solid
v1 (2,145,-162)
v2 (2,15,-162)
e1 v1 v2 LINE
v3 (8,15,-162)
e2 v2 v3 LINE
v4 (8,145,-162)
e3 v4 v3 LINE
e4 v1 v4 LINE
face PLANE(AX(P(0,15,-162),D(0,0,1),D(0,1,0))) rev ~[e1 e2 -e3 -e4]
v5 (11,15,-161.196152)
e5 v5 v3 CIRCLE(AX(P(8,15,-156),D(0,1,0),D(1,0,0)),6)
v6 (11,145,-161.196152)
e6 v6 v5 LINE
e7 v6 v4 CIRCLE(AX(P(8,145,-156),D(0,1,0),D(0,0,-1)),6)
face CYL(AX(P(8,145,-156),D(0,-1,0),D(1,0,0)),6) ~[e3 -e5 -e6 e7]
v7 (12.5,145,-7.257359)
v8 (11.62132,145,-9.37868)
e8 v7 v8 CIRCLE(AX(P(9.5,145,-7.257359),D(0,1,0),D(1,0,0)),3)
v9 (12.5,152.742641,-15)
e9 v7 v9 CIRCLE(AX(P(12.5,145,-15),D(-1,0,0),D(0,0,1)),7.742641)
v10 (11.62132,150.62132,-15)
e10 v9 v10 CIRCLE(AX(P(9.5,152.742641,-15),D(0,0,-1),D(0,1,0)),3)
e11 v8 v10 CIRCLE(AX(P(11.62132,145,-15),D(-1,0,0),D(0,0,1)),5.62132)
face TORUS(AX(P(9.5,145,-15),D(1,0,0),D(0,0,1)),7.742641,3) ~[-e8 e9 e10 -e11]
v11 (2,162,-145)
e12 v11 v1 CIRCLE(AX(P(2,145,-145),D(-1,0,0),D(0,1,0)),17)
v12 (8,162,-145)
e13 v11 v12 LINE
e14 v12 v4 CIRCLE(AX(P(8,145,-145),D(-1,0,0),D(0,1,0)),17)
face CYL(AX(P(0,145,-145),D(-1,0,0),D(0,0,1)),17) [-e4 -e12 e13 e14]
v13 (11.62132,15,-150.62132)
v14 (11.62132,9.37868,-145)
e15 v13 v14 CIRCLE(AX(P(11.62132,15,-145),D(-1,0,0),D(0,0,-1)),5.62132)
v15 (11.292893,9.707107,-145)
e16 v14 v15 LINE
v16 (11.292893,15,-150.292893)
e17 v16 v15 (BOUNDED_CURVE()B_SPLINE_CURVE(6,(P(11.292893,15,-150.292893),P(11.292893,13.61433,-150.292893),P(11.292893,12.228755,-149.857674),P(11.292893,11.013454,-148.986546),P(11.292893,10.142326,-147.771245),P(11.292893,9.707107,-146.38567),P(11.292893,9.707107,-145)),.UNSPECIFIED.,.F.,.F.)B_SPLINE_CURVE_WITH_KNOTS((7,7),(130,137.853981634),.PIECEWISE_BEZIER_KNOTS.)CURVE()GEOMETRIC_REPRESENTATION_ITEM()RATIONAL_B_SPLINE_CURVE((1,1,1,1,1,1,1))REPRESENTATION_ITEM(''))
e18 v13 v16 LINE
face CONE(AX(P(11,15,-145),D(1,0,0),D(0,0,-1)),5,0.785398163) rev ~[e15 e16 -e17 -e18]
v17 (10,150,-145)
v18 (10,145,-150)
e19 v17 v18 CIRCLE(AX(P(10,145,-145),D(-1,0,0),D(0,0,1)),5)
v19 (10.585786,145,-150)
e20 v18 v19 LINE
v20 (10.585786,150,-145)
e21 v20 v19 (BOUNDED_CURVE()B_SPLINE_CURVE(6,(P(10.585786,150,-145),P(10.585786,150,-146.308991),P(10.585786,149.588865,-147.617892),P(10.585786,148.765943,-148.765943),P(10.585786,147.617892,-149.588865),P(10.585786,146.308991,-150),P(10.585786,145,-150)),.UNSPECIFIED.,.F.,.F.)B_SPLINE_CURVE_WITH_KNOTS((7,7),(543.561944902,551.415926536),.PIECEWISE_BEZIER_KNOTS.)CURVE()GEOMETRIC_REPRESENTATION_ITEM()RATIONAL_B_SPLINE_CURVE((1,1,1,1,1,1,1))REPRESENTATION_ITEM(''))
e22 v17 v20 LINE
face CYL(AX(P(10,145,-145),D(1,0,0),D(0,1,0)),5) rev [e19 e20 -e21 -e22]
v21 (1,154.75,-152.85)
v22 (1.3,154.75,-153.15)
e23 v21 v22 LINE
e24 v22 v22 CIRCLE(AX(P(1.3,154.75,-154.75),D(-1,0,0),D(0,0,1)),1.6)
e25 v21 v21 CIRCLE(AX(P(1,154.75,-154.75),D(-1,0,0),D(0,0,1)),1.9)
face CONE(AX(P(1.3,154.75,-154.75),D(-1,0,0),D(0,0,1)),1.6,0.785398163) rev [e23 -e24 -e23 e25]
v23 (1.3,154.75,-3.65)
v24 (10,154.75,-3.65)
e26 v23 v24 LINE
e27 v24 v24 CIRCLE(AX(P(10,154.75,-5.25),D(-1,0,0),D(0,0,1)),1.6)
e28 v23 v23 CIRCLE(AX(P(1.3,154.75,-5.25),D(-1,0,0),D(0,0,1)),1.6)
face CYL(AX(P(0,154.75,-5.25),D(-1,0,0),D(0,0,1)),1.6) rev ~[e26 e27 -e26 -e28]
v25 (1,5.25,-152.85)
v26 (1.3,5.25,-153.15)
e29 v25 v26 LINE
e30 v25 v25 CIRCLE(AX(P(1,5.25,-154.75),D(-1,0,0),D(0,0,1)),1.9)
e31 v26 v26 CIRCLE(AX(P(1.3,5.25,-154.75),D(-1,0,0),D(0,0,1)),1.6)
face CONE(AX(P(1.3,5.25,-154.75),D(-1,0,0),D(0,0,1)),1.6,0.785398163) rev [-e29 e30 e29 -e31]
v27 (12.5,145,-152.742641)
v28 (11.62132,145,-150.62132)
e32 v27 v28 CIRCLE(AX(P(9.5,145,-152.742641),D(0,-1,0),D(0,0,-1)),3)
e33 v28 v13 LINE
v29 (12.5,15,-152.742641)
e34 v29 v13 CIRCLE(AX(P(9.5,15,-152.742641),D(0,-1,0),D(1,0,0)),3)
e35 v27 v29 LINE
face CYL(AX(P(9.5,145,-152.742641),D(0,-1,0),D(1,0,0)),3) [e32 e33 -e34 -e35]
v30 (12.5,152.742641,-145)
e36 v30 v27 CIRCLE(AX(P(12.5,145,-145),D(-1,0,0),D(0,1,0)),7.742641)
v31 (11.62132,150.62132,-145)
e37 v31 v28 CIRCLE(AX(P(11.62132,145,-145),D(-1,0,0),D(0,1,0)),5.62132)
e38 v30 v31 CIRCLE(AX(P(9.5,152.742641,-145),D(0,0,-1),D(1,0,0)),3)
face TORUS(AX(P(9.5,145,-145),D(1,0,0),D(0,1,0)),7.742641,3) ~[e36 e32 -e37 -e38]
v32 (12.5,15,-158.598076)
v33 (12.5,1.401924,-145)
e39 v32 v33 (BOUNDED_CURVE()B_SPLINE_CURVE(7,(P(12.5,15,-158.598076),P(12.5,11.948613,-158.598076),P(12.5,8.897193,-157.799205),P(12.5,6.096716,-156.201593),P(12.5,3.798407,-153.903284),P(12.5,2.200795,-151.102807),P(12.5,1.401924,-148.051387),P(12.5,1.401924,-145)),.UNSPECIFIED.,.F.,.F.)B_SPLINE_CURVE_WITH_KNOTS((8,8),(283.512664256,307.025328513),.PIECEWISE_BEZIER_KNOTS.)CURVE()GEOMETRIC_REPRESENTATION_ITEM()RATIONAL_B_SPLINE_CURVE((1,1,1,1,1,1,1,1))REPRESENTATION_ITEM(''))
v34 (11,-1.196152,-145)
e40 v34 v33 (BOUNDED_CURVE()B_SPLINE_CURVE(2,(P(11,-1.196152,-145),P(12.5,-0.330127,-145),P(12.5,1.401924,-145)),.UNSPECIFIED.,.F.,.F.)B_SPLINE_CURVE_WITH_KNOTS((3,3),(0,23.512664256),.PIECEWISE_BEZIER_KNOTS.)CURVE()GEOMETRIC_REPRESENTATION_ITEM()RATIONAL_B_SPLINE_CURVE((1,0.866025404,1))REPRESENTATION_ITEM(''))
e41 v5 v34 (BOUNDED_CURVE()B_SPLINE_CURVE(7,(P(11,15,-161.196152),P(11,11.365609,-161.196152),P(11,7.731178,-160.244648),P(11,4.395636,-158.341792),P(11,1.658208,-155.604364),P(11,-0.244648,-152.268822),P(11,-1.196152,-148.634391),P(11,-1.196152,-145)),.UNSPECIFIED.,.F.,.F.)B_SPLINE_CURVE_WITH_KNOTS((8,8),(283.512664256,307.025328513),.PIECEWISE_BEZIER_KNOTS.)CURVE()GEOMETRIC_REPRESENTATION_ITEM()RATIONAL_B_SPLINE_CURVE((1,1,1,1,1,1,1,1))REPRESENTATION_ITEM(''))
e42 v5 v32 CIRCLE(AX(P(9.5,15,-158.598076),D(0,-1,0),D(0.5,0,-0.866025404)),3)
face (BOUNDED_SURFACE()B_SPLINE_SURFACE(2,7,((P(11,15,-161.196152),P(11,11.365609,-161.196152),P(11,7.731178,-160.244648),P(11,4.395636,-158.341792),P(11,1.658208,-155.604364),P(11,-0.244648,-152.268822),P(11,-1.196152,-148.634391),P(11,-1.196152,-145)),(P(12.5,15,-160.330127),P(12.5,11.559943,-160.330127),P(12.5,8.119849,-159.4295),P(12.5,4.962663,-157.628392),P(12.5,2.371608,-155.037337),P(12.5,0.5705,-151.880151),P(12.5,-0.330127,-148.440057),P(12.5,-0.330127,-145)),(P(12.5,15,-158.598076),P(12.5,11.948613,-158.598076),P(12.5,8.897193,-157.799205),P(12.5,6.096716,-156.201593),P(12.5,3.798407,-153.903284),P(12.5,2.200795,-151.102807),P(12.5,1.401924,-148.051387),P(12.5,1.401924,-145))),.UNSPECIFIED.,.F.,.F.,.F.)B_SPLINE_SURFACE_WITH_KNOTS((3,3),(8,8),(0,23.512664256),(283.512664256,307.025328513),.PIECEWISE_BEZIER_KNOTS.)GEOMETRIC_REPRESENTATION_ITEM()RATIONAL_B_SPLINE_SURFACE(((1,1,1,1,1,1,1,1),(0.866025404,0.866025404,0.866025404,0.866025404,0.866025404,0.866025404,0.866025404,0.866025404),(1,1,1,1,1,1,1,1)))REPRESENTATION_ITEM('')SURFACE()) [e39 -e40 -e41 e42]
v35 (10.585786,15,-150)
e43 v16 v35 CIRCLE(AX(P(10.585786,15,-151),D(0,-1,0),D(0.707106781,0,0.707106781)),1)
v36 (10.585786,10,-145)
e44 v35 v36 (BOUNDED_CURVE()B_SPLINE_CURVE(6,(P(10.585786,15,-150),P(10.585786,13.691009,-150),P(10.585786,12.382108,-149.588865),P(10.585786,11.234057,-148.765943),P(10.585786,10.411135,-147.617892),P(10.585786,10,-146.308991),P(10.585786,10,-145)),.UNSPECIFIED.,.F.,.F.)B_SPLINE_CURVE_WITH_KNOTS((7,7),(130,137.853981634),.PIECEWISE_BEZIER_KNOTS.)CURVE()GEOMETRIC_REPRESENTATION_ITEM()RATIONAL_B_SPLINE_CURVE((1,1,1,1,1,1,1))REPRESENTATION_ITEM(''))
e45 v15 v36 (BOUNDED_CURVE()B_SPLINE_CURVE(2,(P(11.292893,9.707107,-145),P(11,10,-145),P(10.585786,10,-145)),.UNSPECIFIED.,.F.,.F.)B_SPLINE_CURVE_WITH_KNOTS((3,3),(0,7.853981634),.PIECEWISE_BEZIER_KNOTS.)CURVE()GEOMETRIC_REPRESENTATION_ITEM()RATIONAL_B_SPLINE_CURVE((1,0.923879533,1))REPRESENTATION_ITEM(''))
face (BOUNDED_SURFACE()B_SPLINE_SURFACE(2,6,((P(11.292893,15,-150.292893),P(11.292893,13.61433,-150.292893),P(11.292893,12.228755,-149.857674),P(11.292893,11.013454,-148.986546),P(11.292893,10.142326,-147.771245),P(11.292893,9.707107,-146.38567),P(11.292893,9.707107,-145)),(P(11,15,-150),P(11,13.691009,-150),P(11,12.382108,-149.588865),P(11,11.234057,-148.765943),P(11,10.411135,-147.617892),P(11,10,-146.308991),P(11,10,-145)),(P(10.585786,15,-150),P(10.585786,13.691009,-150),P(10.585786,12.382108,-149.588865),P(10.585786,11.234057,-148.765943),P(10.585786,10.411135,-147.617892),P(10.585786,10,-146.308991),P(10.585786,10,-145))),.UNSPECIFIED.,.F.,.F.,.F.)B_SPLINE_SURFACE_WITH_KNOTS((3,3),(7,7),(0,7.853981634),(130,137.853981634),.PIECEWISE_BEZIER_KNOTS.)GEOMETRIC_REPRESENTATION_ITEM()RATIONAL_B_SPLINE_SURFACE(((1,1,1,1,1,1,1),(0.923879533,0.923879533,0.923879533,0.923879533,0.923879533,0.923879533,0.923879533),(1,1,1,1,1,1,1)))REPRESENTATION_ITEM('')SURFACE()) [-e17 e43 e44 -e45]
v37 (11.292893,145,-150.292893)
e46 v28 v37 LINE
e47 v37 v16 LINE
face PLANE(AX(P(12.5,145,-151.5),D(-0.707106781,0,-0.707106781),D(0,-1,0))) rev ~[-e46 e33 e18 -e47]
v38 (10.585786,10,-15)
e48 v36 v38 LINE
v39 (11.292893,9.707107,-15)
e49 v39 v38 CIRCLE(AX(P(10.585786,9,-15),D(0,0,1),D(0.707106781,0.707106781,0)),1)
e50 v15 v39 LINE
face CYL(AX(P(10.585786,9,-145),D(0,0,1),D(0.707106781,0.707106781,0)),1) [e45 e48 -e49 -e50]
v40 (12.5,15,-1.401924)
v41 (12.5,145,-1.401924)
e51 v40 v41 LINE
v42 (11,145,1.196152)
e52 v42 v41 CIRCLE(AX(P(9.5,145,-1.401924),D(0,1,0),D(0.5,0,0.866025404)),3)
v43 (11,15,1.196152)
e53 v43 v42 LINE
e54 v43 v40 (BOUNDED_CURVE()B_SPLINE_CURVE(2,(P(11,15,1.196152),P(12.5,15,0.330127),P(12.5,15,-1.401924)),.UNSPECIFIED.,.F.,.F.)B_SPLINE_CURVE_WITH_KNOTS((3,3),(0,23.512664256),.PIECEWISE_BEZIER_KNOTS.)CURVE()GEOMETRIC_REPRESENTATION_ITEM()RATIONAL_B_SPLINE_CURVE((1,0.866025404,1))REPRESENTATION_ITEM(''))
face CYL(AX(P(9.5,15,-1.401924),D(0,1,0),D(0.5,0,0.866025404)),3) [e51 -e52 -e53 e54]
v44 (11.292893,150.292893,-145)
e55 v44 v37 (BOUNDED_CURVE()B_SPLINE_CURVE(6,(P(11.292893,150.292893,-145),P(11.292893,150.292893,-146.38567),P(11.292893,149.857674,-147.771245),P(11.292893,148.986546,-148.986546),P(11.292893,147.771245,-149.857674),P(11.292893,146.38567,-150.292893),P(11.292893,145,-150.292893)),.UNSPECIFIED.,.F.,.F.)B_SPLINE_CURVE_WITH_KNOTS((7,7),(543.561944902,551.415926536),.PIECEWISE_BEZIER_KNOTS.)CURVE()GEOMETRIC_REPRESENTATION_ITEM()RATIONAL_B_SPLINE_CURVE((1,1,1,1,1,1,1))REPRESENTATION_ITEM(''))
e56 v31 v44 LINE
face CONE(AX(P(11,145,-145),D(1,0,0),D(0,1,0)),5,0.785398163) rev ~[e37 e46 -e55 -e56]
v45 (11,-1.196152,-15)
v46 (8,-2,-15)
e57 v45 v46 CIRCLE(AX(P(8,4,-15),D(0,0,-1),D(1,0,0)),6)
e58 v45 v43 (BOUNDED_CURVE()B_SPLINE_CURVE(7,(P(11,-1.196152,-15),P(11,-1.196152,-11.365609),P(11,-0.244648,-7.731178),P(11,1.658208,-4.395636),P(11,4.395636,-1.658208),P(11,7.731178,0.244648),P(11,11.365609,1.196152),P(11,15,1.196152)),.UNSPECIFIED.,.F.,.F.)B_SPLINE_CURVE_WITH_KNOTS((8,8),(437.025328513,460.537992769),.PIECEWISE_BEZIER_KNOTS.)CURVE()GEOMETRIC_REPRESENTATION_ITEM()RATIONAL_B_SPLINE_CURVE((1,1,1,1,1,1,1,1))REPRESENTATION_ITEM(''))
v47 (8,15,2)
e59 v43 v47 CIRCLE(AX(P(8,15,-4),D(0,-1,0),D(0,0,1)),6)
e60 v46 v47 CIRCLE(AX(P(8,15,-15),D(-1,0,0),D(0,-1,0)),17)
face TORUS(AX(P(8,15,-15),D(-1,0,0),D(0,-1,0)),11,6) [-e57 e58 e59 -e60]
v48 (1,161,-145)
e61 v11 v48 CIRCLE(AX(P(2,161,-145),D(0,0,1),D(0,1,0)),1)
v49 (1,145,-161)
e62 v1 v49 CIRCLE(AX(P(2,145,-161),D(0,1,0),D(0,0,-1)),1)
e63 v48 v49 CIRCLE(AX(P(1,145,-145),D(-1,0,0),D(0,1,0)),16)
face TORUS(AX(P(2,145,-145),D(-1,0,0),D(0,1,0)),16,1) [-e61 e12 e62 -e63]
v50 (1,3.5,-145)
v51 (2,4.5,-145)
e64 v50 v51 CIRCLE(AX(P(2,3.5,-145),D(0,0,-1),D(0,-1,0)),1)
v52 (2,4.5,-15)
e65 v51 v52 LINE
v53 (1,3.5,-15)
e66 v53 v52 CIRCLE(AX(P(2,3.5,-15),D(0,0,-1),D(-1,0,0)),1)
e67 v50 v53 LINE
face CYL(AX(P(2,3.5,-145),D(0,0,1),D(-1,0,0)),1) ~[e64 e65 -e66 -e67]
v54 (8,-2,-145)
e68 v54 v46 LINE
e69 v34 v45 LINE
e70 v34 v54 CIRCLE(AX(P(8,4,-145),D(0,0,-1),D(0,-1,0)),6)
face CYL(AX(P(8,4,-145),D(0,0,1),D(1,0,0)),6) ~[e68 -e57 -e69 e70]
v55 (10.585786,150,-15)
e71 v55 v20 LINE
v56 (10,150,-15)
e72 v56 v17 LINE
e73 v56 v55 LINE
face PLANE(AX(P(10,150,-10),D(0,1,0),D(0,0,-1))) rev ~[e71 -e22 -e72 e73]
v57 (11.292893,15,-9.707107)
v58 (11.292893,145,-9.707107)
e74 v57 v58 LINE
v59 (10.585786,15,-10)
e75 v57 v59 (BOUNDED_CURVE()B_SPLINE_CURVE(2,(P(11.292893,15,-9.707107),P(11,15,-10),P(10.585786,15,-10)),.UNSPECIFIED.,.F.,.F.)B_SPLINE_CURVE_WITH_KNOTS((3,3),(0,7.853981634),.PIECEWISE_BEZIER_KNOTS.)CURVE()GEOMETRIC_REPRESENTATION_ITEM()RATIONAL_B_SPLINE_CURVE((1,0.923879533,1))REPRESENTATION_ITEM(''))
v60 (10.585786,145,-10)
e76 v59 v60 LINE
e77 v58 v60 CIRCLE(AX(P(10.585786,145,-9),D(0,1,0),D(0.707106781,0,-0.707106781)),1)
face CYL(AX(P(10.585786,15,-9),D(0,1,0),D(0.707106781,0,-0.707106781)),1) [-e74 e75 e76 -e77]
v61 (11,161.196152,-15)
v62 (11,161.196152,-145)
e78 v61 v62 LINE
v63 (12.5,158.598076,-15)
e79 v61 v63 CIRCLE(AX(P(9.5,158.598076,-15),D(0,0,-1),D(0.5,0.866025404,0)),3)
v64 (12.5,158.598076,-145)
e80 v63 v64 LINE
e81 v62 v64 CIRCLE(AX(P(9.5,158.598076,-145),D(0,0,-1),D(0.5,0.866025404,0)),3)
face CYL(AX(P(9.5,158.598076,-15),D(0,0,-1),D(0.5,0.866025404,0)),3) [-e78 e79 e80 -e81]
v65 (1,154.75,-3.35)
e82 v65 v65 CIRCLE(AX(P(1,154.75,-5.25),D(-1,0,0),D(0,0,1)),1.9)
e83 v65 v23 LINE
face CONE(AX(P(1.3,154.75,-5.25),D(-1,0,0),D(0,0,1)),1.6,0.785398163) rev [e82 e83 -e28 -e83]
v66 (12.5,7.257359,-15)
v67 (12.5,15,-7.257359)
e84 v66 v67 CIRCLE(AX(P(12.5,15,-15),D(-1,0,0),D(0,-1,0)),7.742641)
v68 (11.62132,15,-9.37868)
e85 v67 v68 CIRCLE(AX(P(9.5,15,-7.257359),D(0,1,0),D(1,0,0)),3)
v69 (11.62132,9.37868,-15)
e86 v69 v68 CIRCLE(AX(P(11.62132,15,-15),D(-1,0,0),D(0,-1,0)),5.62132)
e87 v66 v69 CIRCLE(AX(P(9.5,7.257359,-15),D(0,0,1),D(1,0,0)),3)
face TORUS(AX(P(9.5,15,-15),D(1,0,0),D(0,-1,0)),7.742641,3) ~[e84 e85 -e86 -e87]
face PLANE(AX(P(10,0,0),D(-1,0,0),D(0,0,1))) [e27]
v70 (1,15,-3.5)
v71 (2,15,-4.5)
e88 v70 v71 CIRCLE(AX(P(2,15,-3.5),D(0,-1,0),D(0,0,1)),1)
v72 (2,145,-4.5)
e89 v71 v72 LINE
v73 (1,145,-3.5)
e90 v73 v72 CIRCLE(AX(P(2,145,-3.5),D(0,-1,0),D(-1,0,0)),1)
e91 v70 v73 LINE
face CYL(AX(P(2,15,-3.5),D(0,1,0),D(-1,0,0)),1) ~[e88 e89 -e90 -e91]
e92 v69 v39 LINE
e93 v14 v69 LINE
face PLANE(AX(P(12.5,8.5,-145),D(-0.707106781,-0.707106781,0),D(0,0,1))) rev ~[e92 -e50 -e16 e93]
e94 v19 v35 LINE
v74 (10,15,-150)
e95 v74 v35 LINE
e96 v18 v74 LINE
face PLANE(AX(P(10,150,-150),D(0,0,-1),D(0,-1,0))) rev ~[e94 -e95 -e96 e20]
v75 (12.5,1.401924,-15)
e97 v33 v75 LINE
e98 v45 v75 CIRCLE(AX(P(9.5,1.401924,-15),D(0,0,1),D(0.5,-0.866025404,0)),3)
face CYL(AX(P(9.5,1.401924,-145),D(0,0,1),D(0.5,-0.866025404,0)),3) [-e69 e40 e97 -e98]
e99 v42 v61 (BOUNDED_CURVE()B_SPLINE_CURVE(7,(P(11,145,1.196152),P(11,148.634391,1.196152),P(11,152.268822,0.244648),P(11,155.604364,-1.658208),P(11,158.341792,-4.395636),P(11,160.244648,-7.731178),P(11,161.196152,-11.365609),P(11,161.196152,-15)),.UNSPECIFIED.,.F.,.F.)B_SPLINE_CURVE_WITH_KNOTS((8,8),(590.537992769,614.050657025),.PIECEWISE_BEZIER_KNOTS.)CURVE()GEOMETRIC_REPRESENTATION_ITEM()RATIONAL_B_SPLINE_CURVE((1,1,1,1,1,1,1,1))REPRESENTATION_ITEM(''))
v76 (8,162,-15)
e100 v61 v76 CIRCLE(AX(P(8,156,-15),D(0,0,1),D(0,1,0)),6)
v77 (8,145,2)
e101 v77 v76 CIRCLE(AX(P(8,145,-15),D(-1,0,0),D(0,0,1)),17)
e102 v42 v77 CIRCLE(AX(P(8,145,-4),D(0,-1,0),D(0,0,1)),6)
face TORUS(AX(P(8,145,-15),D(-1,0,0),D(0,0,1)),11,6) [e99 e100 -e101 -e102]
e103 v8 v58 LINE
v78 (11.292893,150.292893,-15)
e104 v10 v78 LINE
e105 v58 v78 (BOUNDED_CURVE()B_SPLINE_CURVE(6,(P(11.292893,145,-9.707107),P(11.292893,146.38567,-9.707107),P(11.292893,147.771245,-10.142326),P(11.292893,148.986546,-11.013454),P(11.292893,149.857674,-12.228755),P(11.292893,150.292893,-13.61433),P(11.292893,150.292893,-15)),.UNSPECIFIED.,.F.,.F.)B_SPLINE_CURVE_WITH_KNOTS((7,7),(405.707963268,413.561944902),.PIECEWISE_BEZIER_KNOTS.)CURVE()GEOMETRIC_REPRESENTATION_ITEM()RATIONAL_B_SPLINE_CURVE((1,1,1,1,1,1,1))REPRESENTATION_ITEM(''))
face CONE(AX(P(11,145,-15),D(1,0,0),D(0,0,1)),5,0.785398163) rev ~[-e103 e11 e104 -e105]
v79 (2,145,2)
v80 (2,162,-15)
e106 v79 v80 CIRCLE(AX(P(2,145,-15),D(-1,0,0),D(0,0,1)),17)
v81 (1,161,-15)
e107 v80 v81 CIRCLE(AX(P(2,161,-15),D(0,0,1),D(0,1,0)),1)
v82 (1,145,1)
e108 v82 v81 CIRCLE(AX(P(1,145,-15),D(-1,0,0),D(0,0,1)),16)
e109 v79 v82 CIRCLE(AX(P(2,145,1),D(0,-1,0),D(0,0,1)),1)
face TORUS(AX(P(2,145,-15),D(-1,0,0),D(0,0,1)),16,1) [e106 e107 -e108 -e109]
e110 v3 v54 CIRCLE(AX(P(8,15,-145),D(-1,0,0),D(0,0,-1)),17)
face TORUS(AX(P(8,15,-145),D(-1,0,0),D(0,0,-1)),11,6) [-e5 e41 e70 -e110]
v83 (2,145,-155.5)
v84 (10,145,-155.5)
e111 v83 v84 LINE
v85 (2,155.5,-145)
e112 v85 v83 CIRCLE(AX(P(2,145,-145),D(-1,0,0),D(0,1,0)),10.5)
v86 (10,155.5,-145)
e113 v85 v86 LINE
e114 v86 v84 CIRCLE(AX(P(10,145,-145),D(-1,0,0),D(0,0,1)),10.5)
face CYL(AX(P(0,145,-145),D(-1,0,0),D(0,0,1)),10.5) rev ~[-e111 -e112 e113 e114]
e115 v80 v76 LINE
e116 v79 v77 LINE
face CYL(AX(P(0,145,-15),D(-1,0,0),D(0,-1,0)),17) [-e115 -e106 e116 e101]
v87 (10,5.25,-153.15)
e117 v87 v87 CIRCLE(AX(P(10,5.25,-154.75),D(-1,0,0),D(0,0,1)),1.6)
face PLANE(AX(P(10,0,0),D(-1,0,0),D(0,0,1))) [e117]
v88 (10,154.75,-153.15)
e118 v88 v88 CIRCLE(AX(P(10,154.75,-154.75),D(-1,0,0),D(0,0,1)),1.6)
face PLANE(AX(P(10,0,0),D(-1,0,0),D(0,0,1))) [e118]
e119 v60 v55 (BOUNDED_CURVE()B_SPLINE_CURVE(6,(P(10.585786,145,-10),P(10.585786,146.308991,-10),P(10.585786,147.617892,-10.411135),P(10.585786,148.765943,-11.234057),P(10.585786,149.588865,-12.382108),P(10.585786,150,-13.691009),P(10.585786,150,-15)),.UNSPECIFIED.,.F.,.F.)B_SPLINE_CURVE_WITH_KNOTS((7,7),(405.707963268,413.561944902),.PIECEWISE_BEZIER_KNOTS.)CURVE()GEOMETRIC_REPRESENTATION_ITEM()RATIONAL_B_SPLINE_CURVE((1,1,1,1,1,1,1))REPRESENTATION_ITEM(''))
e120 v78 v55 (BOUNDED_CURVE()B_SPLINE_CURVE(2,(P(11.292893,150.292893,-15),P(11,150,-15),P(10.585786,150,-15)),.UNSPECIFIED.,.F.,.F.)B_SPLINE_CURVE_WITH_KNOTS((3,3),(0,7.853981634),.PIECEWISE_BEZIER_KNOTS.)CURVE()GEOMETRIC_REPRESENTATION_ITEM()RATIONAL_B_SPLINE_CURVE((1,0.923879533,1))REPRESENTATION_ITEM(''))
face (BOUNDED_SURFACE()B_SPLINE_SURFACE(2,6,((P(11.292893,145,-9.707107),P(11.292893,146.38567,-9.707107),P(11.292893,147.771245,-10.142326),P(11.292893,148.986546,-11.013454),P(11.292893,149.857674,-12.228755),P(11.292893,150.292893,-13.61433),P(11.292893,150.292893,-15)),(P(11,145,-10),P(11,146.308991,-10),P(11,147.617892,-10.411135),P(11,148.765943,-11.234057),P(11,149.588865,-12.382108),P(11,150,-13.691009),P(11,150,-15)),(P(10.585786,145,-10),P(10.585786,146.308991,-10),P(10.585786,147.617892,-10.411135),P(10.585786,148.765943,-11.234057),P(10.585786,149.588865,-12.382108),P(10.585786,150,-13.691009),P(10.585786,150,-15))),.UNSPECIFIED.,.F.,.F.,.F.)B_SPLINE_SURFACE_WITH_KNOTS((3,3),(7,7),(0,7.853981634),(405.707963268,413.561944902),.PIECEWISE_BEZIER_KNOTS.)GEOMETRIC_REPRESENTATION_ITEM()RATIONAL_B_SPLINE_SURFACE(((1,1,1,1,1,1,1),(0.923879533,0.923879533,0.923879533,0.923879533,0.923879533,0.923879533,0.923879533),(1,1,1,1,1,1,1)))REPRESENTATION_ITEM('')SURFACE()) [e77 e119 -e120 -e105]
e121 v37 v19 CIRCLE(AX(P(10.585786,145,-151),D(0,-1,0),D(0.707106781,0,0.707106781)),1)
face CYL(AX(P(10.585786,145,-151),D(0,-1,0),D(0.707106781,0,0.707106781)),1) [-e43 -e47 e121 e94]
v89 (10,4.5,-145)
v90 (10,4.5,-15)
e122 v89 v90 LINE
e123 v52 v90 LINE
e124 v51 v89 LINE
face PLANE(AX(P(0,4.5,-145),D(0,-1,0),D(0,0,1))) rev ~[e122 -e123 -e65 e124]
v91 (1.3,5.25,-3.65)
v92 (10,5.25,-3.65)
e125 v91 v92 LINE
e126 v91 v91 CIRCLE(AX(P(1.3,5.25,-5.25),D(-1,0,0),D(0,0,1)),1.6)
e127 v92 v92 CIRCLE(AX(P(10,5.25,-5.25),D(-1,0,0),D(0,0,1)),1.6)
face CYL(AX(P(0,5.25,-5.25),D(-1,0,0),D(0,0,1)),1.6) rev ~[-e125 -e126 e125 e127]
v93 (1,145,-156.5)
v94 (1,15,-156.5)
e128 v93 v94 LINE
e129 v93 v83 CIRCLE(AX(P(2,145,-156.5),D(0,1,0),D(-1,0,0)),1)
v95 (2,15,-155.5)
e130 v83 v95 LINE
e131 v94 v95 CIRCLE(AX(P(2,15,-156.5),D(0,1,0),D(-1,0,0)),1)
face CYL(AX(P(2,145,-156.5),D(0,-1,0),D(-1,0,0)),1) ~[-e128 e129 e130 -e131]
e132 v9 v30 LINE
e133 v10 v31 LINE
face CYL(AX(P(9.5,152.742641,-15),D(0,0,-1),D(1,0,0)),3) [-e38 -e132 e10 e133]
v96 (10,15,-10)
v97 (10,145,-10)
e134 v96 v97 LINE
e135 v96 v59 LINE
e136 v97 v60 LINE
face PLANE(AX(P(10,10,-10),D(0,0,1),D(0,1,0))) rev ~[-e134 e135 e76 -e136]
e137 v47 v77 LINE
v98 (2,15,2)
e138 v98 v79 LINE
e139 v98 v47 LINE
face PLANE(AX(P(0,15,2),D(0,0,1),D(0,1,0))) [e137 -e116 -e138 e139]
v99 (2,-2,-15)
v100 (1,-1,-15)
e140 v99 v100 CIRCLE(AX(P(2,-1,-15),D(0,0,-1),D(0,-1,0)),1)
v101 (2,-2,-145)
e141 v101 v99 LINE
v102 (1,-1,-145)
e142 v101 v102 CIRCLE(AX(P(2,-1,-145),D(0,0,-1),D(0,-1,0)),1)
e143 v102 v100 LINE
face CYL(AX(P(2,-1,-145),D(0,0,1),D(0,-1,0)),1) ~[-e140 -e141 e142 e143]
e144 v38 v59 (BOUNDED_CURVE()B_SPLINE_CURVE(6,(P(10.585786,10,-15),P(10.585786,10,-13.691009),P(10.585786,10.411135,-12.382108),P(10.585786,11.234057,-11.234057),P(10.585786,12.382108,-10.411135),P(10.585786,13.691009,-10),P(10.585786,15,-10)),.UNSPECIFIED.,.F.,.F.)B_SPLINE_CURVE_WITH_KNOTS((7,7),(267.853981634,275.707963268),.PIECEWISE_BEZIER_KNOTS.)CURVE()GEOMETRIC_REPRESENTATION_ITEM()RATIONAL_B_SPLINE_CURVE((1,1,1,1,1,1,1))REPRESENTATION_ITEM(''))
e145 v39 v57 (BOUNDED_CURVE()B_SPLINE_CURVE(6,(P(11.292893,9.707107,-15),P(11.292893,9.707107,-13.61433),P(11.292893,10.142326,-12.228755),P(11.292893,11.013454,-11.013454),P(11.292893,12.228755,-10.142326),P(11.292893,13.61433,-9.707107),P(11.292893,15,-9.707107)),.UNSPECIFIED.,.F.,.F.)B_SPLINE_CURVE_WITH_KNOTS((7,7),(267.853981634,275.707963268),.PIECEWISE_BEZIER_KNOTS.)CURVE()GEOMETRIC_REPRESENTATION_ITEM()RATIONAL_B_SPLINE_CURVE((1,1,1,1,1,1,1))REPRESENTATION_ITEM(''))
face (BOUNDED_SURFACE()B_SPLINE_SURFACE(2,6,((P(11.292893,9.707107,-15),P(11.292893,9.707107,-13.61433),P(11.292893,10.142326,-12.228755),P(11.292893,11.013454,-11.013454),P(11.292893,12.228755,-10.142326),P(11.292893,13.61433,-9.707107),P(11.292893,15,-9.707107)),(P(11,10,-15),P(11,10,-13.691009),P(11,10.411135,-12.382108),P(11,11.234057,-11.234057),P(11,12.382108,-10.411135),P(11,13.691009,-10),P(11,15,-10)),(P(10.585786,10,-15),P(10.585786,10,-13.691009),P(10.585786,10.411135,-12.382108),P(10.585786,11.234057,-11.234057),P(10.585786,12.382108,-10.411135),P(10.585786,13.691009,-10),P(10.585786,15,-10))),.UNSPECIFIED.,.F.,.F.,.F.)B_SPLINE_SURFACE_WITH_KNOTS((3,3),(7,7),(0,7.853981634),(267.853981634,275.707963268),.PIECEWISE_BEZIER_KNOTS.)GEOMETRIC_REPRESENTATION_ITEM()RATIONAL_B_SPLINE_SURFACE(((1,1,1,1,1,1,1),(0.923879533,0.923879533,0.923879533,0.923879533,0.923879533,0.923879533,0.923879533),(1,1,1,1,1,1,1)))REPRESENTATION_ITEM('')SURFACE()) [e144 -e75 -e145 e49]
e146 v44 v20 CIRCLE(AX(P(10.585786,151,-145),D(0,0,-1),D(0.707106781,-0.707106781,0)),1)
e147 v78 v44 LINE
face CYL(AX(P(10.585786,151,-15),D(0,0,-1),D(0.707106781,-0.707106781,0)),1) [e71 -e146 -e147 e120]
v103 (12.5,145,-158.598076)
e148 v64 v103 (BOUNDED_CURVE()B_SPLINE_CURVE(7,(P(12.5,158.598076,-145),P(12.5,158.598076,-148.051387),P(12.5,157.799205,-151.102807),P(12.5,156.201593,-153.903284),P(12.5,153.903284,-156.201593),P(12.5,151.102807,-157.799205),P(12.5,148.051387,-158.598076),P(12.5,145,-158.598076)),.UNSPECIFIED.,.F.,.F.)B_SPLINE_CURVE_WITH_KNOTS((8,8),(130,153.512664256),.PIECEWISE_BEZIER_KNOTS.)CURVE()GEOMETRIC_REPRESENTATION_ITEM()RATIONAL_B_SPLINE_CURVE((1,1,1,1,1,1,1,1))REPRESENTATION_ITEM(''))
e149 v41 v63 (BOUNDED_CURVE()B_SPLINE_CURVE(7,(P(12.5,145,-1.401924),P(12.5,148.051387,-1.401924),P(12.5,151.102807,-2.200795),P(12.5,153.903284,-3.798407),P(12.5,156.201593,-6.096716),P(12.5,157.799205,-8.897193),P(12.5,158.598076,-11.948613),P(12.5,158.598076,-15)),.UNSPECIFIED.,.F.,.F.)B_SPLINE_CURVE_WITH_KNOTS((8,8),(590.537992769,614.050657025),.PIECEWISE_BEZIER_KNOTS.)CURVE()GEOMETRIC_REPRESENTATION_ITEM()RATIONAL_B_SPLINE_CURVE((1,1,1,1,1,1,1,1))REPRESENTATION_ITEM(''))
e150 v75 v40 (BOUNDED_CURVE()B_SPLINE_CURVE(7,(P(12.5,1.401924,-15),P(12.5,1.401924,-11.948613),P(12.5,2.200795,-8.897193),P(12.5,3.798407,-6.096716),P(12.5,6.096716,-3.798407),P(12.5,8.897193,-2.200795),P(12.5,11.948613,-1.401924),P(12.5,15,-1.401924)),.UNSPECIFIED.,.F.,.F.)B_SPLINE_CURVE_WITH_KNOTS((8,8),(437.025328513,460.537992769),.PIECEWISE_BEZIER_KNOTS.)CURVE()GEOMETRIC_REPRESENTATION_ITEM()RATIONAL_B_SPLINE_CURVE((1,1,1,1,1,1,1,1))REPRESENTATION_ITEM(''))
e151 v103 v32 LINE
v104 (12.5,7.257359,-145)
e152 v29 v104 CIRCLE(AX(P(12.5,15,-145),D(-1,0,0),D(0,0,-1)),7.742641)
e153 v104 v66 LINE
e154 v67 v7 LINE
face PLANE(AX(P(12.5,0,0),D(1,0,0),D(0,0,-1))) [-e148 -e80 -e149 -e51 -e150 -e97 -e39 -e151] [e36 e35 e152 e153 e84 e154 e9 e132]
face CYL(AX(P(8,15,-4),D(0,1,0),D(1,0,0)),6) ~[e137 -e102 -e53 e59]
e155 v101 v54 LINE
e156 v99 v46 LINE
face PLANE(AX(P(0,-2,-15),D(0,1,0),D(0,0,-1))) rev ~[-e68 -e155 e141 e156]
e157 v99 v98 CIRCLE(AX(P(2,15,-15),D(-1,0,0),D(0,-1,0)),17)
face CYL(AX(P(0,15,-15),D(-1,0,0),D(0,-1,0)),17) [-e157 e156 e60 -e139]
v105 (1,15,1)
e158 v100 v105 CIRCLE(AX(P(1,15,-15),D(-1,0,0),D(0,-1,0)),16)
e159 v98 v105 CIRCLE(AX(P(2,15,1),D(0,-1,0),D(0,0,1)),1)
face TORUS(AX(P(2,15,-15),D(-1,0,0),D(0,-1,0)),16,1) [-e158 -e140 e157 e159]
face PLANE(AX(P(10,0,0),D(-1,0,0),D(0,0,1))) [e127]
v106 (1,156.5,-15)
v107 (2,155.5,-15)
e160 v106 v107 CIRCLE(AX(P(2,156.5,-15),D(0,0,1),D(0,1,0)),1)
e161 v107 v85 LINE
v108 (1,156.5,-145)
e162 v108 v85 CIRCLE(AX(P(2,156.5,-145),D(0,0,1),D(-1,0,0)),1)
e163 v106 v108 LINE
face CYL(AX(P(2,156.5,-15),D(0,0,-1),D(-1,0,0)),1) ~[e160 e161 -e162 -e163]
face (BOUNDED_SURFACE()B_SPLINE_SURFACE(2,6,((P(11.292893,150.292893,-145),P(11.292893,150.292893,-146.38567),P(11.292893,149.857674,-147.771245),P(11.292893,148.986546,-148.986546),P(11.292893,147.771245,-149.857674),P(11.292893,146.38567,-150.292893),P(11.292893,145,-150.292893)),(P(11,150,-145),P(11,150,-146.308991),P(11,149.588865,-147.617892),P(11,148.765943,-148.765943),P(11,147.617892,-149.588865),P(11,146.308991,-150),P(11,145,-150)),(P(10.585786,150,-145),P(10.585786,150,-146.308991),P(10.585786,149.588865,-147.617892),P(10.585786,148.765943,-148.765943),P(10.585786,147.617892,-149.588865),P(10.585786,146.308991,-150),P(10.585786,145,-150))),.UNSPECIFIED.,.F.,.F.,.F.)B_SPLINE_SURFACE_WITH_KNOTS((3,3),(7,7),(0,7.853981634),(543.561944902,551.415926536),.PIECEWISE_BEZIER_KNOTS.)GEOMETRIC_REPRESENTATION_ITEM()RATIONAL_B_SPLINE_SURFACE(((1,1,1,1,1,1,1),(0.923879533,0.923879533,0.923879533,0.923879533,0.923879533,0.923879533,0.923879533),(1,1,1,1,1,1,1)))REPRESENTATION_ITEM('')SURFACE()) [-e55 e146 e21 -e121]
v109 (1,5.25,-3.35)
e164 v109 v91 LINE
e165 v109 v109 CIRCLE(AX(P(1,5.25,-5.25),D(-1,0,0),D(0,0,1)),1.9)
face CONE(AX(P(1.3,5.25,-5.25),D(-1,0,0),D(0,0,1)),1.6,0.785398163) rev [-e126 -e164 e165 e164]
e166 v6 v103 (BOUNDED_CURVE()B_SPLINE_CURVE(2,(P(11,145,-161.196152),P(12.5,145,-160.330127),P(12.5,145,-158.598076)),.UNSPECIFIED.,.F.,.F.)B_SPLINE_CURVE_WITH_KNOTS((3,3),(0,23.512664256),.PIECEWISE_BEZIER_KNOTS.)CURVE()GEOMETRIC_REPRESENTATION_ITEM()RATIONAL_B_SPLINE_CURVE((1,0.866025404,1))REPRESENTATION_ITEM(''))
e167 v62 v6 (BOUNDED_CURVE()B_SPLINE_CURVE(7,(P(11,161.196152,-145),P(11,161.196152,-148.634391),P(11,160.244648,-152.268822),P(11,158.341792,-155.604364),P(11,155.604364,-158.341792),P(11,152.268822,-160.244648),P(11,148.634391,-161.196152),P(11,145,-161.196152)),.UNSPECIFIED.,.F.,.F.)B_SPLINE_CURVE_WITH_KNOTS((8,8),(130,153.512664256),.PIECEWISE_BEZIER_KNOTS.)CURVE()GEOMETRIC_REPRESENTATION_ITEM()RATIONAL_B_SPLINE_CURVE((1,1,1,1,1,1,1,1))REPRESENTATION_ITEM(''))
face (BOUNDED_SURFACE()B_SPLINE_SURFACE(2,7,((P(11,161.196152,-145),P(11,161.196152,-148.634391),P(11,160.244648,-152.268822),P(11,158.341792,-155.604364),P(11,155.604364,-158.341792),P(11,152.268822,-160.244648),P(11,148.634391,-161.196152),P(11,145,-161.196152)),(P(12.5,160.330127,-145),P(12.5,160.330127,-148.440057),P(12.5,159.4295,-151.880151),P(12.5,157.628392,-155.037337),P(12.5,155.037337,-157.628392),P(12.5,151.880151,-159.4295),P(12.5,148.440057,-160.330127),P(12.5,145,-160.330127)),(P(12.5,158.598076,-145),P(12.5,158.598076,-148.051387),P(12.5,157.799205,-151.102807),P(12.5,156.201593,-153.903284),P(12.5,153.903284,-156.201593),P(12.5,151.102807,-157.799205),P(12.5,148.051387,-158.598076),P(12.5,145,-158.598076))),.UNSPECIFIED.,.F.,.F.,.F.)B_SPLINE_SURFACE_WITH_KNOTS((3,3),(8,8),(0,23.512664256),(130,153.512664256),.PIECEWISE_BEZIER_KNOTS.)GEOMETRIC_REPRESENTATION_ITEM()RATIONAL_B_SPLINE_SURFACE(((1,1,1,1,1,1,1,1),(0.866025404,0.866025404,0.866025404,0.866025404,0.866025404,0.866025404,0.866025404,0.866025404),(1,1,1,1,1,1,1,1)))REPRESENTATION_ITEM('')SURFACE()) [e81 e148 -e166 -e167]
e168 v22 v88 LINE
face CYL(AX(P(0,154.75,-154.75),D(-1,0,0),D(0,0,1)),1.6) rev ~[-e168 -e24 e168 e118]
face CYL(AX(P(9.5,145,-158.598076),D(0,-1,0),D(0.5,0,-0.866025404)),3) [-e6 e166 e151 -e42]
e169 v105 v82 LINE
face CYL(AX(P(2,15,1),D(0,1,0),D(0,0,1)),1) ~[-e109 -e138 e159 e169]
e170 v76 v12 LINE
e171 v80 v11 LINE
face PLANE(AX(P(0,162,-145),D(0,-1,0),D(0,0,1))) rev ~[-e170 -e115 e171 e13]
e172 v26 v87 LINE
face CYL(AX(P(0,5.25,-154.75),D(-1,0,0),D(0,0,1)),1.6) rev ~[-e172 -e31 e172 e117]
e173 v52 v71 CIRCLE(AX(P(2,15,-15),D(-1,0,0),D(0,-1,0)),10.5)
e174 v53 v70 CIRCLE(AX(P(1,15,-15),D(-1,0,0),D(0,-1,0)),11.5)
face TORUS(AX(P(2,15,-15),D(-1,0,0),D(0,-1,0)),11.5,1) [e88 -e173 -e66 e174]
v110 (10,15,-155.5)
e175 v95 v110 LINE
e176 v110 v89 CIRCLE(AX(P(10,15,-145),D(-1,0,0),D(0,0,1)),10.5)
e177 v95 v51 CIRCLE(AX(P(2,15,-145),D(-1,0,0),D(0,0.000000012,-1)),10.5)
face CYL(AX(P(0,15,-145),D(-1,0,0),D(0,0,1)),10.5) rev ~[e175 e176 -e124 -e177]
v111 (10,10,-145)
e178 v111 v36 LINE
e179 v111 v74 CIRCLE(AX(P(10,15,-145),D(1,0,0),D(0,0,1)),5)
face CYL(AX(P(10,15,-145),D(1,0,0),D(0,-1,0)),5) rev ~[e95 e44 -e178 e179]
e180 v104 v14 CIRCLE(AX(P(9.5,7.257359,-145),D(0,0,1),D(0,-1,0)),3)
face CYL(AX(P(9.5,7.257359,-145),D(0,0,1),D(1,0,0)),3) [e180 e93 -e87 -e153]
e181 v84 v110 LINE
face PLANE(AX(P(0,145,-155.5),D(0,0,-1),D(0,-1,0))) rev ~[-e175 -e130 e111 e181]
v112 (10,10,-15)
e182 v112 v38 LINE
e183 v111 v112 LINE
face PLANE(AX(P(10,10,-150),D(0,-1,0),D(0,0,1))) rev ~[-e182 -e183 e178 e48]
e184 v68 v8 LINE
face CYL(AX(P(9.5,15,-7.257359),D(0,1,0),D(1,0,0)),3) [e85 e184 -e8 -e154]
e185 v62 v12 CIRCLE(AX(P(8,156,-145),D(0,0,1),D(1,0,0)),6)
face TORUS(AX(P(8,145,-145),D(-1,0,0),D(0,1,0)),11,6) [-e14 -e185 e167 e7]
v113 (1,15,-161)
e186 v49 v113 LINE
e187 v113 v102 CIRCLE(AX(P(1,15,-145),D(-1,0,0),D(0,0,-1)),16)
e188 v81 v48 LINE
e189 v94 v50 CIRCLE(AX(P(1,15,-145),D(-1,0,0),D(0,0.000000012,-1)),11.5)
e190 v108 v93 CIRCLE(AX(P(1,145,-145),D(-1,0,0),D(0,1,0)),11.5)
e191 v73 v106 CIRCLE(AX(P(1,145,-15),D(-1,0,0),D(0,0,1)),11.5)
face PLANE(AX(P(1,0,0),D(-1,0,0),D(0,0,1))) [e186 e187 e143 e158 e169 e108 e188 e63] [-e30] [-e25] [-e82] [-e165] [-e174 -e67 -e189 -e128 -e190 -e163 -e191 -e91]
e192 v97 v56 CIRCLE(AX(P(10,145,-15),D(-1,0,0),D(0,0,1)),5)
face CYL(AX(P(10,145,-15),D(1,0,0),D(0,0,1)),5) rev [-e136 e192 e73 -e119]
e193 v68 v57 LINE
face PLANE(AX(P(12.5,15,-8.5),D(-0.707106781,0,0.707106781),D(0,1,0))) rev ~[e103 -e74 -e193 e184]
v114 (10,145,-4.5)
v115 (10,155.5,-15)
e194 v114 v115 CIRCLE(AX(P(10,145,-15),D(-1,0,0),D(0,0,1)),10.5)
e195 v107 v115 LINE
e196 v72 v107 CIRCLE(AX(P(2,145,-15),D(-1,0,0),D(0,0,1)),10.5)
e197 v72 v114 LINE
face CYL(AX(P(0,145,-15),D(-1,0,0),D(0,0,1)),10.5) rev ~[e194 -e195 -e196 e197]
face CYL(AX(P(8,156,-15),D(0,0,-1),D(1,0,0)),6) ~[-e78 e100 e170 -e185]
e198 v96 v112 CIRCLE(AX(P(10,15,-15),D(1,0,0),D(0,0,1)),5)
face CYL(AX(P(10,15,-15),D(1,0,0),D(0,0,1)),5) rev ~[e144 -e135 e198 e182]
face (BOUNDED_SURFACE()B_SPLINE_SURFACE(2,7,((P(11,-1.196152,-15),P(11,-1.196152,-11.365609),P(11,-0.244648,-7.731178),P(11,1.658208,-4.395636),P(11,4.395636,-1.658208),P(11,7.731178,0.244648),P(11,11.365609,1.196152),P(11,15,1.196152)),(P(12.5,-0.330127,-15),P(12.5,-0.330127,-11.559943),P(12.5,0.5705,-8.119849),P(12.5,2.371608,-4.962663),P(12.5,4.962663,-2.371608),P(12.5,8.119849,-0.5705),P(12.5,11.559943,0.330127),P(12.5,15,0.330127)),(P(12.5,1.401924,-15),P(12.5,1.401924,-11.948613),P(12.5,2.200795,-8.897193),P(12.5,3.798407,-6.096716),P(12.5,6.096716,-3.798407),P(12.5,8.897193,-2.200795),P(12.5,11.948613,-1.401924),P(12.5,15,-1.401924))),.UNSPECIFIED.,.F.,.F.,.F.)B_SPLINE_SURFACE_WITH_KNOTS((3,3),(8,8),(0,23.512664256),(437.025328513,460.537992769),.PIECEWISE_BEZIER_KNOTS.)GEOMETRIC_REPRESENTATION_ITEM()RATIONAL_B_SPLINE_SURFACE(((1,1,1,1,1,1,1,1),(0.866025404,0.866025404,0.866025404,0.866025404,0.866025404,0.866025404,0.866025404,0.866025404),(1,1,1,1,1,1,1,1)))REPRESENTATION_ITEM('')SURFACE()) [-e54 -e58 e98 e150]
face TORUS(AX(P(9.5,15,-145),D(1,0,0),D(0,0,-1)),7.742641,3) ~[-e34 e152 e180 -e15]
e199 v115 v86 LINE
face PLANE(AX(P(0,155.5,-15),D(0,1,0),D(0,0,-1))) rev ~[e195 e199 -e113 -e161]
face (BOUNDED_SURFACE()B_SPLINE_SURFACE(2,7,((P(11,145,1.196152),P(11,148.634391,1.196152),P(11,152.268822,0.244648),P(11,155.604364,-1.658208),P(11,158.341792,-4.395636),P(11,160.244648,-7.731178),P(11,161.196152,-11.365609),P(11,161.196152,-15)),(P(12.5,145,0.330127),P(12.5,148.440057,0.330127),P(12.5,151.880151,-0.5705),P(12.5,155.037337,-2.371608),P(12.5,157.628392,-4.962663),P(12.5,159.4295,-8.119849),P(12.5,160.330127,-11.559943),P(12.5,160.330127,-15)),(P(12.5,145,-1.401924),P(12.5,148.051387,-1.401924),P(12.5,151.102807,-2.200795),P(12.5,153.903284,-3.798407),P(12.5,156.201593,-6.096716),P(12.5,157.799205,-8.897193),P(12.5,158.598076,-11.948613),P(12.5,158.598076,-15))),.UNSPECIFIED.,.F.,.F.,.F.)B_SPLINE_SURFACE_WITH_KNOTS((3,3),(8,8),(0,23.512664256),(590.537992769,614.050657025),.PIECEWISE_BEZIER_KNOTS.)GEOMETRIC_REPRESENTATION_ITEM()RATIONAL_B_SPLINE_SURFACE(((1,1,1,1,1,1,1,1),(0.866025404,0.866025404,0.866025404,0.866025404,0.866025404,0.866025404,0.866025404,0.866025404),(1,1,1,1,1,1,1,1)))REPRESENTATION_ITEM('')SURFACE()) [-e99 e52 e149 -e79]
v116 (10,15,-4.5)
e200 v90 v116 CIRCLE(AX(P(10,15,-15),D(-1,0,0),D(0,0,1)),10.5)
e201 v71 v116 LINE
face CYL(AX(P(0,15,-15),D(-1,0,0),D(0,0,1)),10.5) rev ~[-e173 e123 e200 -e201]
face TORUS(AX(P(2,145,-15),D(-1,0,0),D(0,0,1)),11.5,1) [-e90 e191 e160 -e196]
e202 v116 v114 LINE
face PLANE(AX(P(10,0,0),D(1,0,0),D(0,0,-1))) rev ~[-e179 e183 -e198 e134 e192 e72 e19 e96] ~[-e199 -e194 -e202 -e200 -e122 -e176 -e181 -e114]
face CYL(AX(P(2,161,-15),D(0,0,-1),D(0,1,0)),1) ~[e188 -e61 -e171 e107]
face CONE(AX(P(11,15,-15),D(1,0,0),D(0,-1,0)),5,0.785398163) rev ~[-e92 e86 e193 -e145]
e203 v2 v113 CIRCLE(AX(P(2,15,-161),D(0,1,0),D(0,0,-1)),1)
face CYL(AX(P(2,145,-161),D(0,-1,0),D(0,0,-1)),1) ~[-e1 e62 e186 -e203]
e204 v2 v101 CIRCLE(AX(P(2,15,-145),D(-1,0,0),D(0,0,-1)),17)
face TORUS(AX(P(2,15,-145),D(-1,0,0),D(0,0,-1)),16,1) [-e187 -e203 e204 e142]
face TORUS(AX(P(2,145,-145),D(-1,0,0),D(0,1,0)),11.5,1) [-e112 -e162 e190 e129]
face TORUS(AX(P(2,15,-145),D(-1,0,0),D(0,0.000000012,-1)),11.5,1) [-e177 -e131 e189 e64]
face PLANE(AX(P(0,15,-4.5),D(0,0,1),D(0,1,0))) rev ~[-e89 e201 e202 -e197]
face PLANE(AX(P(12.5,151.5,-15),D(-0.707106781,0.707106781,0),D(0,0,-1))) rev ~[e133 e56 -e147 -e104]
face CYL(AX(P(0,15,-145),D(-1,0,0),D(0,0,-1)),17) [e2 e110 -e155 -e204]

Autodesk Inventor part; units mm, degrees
ref_plane "YZ Plane" through (0, 0, 0) normal (1, 0, 0) x (0, 1, 0)
ref_plane "XZ Plane" through (0, 0, 0) normal (0, 1, 0) x (-1, 0, 0)
ref_plane "XY Plane" through (0, 0, 0) normal (0, 0, 1) x (1, 0, 0)
sketch "Sketch1" plane through (0, 0, 0) normal (1, 0, 0) x (0, 1, 0)
  line L0 (0, 0) -> (160, 0)
  line L1 (160, 0) -> (160, -160)
  line L2 (160, -160) -> (0, -160)
  line L3 (0, -160) -> (0, 0)
  line L4 (0, 0) -> (5, 0)
  line L5 (5, 0) -> (5, -5)
  line L6 (5, -5) -> (0, -5)
  line L7 (0, -5) -> (0, 0)
  line L8 (5, -5) -> (155, -5)
  line L9 (155, -5) -> (155, -155)
  line L10 (155, -155) -> (5, -155)
  line L11 (5, -155) -> (5, -5)
  dimension "d0" = 160
  dimension "d1" = 160
  dimension "d2" = 5
  dimension "d3" = 5
  dimension "d4" = 150
  dimension "d5" = 150
extrude "Extrusion1" add sketch "Sketch1" along normal blind 10
sketch "Sketch2" plane through (10, 0, 0) normal (1, 0, 0) x (0, 0, -1)
  line L0 (5, 155) -> (155, 155) projected
  line L1 (5, 155) -> (10, 155)
  line L2 (10, 155) -> (10, 150)
  line L3 (10, 150) -> (5, 150)
  line L4 (5, 150) -> (5, 155)
  line L5 (10, 150) -> (150, 150)
  line L6 (150, 150) -> (150, 10)
  line L7 (150, 10) -> (10, 10)
  line L8 (10, 10) -> (10, 150)
  line L9 (160, 0) -> (160, 160) projected
  line L10 (0, 160) -> (160, 160)
  line L11 (160, 160) -> (160, 0)
  line L12 (160, 0) -> (0, 0)
  line L13 (0, 0) -> (0, 160)
  point P0 (0, 0)
  dimension "d8" = 5
  dimension "d9" = 5
  dimension "d10" = 140
  dimension "d11" = 140
extrude "Extrusion2" add sketch "Sketch2" along normal blind 4 contours L0 L2 L3 L4 | L12 L13 L10 L9
fillet "Fillet1" radius 10 4 edges at (5, 5, -155) (5, 155, -155) (5, 155, -5) (5, 5, -5)
fillet "Fillet2" radius 5 4 edges at (12, 10, -150) (12, 150, -150) (12, 10, -10) (12, 150, -10)
sketch "Sketch3" plane through (0, 0, 0) normal (-1, 0, 0) x (0, 0, 1)
  line L0 (-160, 160) -> (0, 160) projected
  line L1 (-160, 160) -> (0, 160) construction
  line L2 (-160, 150) -> (0, 150)
  line L3 (0, 170) -> (-160, 170)
  arc A0 (-160, 170) -> (-160, 150) centre (-160, 160) ccw
  arc A1 (0, 150) -> (0, 170) centre (0, 160) ccw
  line L4 (0, 160) -> (0, 0) projected
  line L5 (0, 0) -> (0, 160) construction
  line L6 (10, 0) -> (10, 160)
  line L7 (-10, 160) -> (-10, 0)
  arc A2 (-10, 0) -> (10, 0) centre (0, 0) ccw
  arc A3 (10, 160) -> (-10, 160) centre (0, 160) ccw
  line L8 (-160, 0) -> (-160, 160) projected
  line L9 (0, 0) -> (-160, 0) construction
  line L10 (0, 10) -> (-160, 10)
  line L11 (-160, -10) -> (0, -10)
  arc A4 (0, -10) -> (0, 10) centre (0, 0) ccw
  arc A5 (-160, 10) -> (-160, -10) centre (-160, 0) ccw
  line L12 (0, 0) -> (-160, 0) projected
  line L13 (-160, 0) -> (-160, 160) construction
  line L14 (-150, 0) -> (-150, 160)
  line L15 (-170, 160) -> (-170, 0)
  arc A6 (-170, 0) -> (-150, 0) centre (-160, 0) ccw
  arc A7 (-150, 160) -> (-170, 160) centre (-160, 160) ccw
  line L16 (-160, 160) -> (0, 160)
  line L17 (0, 160) -> (0, 0)
  line L18 (0, 0) -> (-160, 0)
  line L19 (-160, 0) -> (-160, 160)
  point P0 (-80, 160)
  point P1 (0, 80)
  point P2 (-80, 0)
  point P3 (-160, 80)
  point P4 (-170, 0)
  dimension "d16" = 10
extrude "Extrusion3" add sketch "Sketch3" against normal up to surface (14 mm away) contours L8 A0 A7 L0 | A7 L3 A3 L0 | L8 A5 L15 A0 | A3 A1 L4 L0 | L8 L12 A6 A5 | A1 L6 A4 L4 | L12 A2 L11 A6 | A4 A2 L12 L4
sketch "Sketch4" plane through (0, 0, 0) normal (-1, 0, 0) x (0, 0, 1)
  line L0 (-15, 150) -> (-145, 150) projected
  line L1 (-80, 150) -> (-80, 10)
  line L2 (-145, 10) -> (-15, 10) projected
  line L3 (-155.5, 4.5) -> (-4.5, 4.5)
  line L4 (-4.5, 4.5) -> (-4.5, 155.5)
  line L5 (-4.5, 155.5) -> (-155.5, 155.5)
  line L6 (-155.5, 155.5) -> (-155.5, 4.5)
  line L7 (-155.5, 4.5) -> (-4.5, 155.5) construction
  line L8 (-4.5, 4.5) -> (-155.5, 155.5) construction
  arc A0 (-145, 150) -> (-150, 145) centre (-145, 145) ccw projected
  circle A1 centre (-145, 145) radius 10.5
  arc A2 (-5, 145) -> (-15, 155) centre (-15, 145) ccw projected
  circle A3 centre (-15, 145) radius 10.5
  arc A4 (-15, 10) -> (-10, 15) centre (-15, 15) ccw projected
  circle A5 centre (-15, 15) radius 10.5
  arc A6 (-150, 15) -> (-145, 10) centre (-145, 15) ccw projected
  circle A7 centre (-145, 15) radius 10.5
  point P0 (0, 0)
  point P1 (-80, 80)
  point P2 (-4.5, 145)
  point P3 (-15, 155.5)
  point P4 (-145, 155.5)
  point P5 (-155.5, 145)
  point P6 (-155.5, 15)
  point P7 (-145, 4.5)
  point P8 (-15, 4.5)
  point P9 (-4.5, 15)
  dimension "d19" = 151
  dimension "d20" = 151
extrude "Extrusion4" cut sketch "Sketch4" against normal up to surface (10 mm away) contours A3 L4 A5 L2 L1 L0 | L0 A1 L5 A3 | A3 | L1 L2 A7 L6 A1 L0 | A1 | L2 A5 L3 A7 | A5 | A7
sketch "Sketch6" plane through (0, 0, 0) normal (-1, 0, 0) x (0, 0, 1)
  arc A0 (-145, 150) -> (-150, 145) centre (-145, 145) ccw projected
  circle A1 centre (-155.5, 155.5) radius 1.5 projected
  circle A2 centre (-155.5, 155.5) radius 1.5 projected
  arc A3 (-145, 155.5) -> (-155.5, 145) centre (-145, 145) ccw projected
  line L0 (-155.5, 155.5) -> (-145, 145)
  line L1 (-145, 145) -> (-155.5, 155.5)
  line L2 (-155.5, 155.5) -> (-158.5309, 158.5309)
  circle A4 centre (-145, 145) radius 17
  arc A5 (-10, 145) -> (-15, 150) centre (-15, 145) ccw projected
  line L3 (-145, 145) -> (-15, 145) construction
  line L4 (-145, 162) -> (-15, 162)
  line L5 (-15, 128) -> (-145, 128)
  arc A6 (-145, 162) -> (-145, 128) centre (-145, 145) ccw
  arc A7 (-15, 128) -> (-15, 162) centre (-15, 145) ccw
  arc A8 (-150, 15) -> (-145, 10) centre (-145, 15) ccw projected
  line L6 (-145, 145) -> (-145, 15) construction
  line L7 (-128, 145) -> (-128, 15)
  line L8 (-162, 15) -> (-162, 145)
  arc A9 (-128, 145) -> (-162, 145) centre (-145, 145) ccw
  arc A10 (-162, 15) -> (-128, 15) centre (-145, 15) ccw
  arc A11 (-15, 10) -> (-10, 15) centre (-15, 15) ccw projected
  line L9 (-145, 15) -> (-15, 15) construction
  line L10 (-145, 32) -> (-15, 32)
  line L11 (-15, -2) -> (-145, -2)
  arc A12 (-145, 32) -> (-145, -2) centre (-145, 15) ccw
  arc A13 (-15, -2) -> (-15, 32) centre (-15, 15) ccw
  line L12 (-15, 15) -> (-15, 145) construction
  line L13 (2, 15) -> (2, 145)
  line L14 (-32, 145) -> (-32, 15)
  arc A14 (-32, 15) -> (2, 15) centre (-15, 15) ccw
  arc A15 (2, 145) -> (-32, 145) centre (-15, 145) ccw
  line L15 (-180.2133, 180.2133) -> (20.1008, 180.2133)
  line L16 (20.1008, 180.2133) -> (20.1008, -29.1514)
  line L17 (20.1008, -29.1514) -> (-180.2133, -29.1514)
  line L18 (-180.2133, -29.1514) -> (-180.2133, 180.2133)
  point P0 (0, 0)
  point P1 (-80, 145)
  point P2 (-145, 80)
  point P3 (-80, 15)
  point P4 (-15, 80)
  point P5 (2, 145)
  point P6 (2, 15)
  point P7 (-145, -2)
  point P8 (-162, 145)
  point P9 (-145, 162)
  dimension "d26" = 10.5
  dimension "d27" = 10.5
  dimension "d28" = 34
  dimension "d38" = 164
  dimension "d39" = 17
  dimension "d43" = 17
  dimension "d44" = 17
extrude "Extrusion6" cut sketch "Sketch6" against normal blind 30 contours L15 L16 L17 L18
fillet "Fillet3" radius 6 4 edges at (14, 157.0208, -2.9792) (14, 2.9792, -2.9792) (14, 2.9792, -157.0208) (14, 157.0208, -157.0208)
chamfer "Chamfer1" distance 3 angle 45 4 edges at (14, 150, -80) (14, 80, -10) (14, 10, -80) (14, 80, -150)
fillet "Fillet4" radius 2 8 edges at (14, 150.6569, -150.6569) (14, 153, -80) (14, 150.6569, -9.3431) (14, 80, -7) (14, 9.3431, -9.3431) (14, 7, -80) (14, 9.3431, -150.6569) (14, 80, -153)
fillet "Fillet5" radius 1 8 edges at (11, 80, -150) (11, 11.4645, -148.5355) (11, 10, -80) (11, 11.4645, -11.4645) (11, 80, -10) (11, 148.5355, -11.4645) (11, 150, -80) (11, 148.5355, -148.5355)
fillet "Fillet6" radius 1 12 edges at (0, 152.4246, -152.4246) (0, 155.5, -80) (0, 152.4246, -7.5754) (0, 80, -4.5) (0, 7.5754, -7.5754) (0, 4.5, -80) (0, 7.5754, -152.4246) (0, 80, -155.5) (0, 2.9792, -157.0208) (0, 2.9792, -2.9792) (0, 157.0208, -2.9792) (0, 157.0208, -157.0208)
sketch "Sketch8" plane through (14, 0, 0) normal (1, 0, 0) x (0, 0, -1)
  line L0 (162, 15) -> (162, 145) projected
  line L1 (-2, 145) -> (-2, 15) projected
  line L2 (15, -2) -> (145, -2) projected
  line L3 (145, 162) -> (15, 162) projected
  line L4 (145, 155.5) -> (15, 155.5) projected
  point P0 (0, 0)
  dimension "d40" = 164
  dimension "d41" = 164
  dimension "d42" = 6.5
sketch "Sketch9" plane through (0, 0, 0) normal (-1, 0, 0) x (0, 0, 1)
  line L0 (-15, 150) -> (-145, 150) projected
  line L1 (-80, 150) -> (-80, 10)
  line L2 (-145, 10) -> (-15, 10) projected
  line L3 (-154.75, 5.25) -> (-5.25, 5.25)
  line L4 (-5.25, 5.25) -> (-5.25, 154.75)
  line L5 (-5.25, 154.75) -> (-154.75, 154.75)
  line L6 (-154.75, 154.75) -> (-154.75, 5.25)
  line L7 (-154.75, 5.25) -> (-5.25, 154.75) construction
  line L8 (-5.25, 5.25) -> (-154.75, 154.75) construction
  circle A0 centre (-154.75, 154.75) radius 1.6
  circle A1 centre (-5.25, 154.75) radius 1.6
  circle A2 centre (-154.75, 5.25) radius 1.6
  circle A3 centre (-5.25, 5.25) radius 1.6
  point P0 (0, 0)
  point P1 (-145, 145)
  point P2 (-15, 15)
  point P3 (-80, 80)
  dimension "d48" = 149.5
  dimension "d49" = 149.5
  dimension "d50" = 3.2
extrude "Extrusion7" cut sketch "Sketch9" against normal blind 10 contours L6 A2 L3 | L3 A2 L6 | A3 L4 L3 | L3 L4 A3 | A0 L5 L6 | L6 L5 A0 | A1 L5 L4 | L4 L5 A1
sketch "Sketch10" plane through (8, 15, 2) normal (0, 0, 1) x (1, 0, 0)
  line L0 (6, 0) -> (6, 130) projected
  line L1 (-8, 130) -> (-8, 0) projected
  line L2 (0, 130) -> (0, 0) projected
  point P0 (-8, -15)
  dimension "d53" = 14
  dimension "d54" = 8
sketch "Sketch11" plane through (10, 0, 0) normal (-1, 0, 0) x (0, 0, 1)
  line L0 (-145, 10) -> (-15, 10) projected
  line L1 (-15, 150) -> (-145, 150) projected
  line L2 (-15, 4.5) -> (-145, 4.5) projected
  line L3 (-145, 155.5) -> (-15, 155.5) projected
  line L4 (-80, 150) -> (-80, 10)
  line L5 (-7, 7) -> (-153, 7)
  line L6 (-153, 7) -> (-153, 153)
  line L7 (-153, 153) -> (-7, 153)
  line L8 (-7, 153) -> (-7, 7)
  line L9 (-7, 7) -> (-153, 153) construction
  line L10 (-153, 7) -> (-7, 153) construction
  point P0 (0, 0)
  point P1 (-80, 80)
  dimension "d55" = 140
  dimension "d56" = 151
  dimension "d57" = 146
  dimension "d58" = 146
chamfer "Chamfer2" distance 0.3 angle 45 4 edges at (0, 154.75, -6.85) (0, 154.75, -156.35) (0, 5.25, -156.35) (0, 5.25, -6.85)
sketch "Sketch17" plane through (14, 0, 0) normal (1, 0, 0) x (0, 0, -1)
  line L0 (-21.1254, 169.9507) -> (180.25, 169.9507)
  line L1 (180.25, 169.9507) -> (180.25, -9.9186)
  line L2 (180.25, -9.9186) -> (-21.1254, -9.9186)
  line L3 (-21.1254, -9.9186) -> (-21.1254, 169.9507)
  point P0 (0, 0)
extrude "Extrusion8" cut sketch "Sketch17" against normal blind 1.5
fillet "Fillet7" radius 3 16 edges at (12.5, 159.9686, -80) (12.5, 155.5844, -155.5844) (12.5, 80, -159.9686) (12.5, 4.4156, -155.5844) (12.5, 0.0314, -80) (12.5, 4.4156, -4.4156) (12.5, 80, -0.0314) (12.5, 155.5844, -4.4156) (12.5, 80, -8.5) (12.5, 10.4038, -10.4038) (12.5, 8.5, -80) (12.5, 10.4038, -149.5962) (12.5, 80, -151.5) (12.5, 149.5962, -149.5962) (12.5, 151.5, -80) (12.5, 149.5962, -10.4038)
sketch "Sketch18" plane through (0, 0, 0) normal (-1, 0, 0) x (0, 0, 1)
  line L0 (-183.9063, 166.801) -> (38.1322, 166.801)
  line L1 (38.1322, 166.801) -> (38.1322, -27.1199)
  line L2 (38.1322, -27.1199) -> (-183.9063, -27.1199)
  line L3 (-183.9063, -27.1199) -> (-183.9063, 166.801)
  point P0 (0, 0)
extrude "Extrusion9" cut sketch "Sketch18" against normal blind 1
fillet "Fillet8" radius 1 16 edges at (1, 80, -155.5) (1, 152.4246, -152.4246) (1, 155.5, -80) (1, 152.4246, -7.5754) (1, 80, -4.5) (1, 7.5754, -7.5754) (1, 4.5, -80) (1, 7.5754, -152.4246) (1, 2.9792, -157.0208) (1, -2, -80) (1, 2.9792, -2.9792) (1, 80, 2) (1, 157.0208, -2.9792) (1, 162, -80) (1, 157.0208, -157.0208) (1, 80, -162)
chamfer "Chamfer3" distance 0.3 angle 45 4 edges at (1, 5.25, -156.35) (1, 154.75, -156.35) (1, 154.75, -6.85) (1, 5.25, -6.85)
properties part number "DiffuserRetainer"
